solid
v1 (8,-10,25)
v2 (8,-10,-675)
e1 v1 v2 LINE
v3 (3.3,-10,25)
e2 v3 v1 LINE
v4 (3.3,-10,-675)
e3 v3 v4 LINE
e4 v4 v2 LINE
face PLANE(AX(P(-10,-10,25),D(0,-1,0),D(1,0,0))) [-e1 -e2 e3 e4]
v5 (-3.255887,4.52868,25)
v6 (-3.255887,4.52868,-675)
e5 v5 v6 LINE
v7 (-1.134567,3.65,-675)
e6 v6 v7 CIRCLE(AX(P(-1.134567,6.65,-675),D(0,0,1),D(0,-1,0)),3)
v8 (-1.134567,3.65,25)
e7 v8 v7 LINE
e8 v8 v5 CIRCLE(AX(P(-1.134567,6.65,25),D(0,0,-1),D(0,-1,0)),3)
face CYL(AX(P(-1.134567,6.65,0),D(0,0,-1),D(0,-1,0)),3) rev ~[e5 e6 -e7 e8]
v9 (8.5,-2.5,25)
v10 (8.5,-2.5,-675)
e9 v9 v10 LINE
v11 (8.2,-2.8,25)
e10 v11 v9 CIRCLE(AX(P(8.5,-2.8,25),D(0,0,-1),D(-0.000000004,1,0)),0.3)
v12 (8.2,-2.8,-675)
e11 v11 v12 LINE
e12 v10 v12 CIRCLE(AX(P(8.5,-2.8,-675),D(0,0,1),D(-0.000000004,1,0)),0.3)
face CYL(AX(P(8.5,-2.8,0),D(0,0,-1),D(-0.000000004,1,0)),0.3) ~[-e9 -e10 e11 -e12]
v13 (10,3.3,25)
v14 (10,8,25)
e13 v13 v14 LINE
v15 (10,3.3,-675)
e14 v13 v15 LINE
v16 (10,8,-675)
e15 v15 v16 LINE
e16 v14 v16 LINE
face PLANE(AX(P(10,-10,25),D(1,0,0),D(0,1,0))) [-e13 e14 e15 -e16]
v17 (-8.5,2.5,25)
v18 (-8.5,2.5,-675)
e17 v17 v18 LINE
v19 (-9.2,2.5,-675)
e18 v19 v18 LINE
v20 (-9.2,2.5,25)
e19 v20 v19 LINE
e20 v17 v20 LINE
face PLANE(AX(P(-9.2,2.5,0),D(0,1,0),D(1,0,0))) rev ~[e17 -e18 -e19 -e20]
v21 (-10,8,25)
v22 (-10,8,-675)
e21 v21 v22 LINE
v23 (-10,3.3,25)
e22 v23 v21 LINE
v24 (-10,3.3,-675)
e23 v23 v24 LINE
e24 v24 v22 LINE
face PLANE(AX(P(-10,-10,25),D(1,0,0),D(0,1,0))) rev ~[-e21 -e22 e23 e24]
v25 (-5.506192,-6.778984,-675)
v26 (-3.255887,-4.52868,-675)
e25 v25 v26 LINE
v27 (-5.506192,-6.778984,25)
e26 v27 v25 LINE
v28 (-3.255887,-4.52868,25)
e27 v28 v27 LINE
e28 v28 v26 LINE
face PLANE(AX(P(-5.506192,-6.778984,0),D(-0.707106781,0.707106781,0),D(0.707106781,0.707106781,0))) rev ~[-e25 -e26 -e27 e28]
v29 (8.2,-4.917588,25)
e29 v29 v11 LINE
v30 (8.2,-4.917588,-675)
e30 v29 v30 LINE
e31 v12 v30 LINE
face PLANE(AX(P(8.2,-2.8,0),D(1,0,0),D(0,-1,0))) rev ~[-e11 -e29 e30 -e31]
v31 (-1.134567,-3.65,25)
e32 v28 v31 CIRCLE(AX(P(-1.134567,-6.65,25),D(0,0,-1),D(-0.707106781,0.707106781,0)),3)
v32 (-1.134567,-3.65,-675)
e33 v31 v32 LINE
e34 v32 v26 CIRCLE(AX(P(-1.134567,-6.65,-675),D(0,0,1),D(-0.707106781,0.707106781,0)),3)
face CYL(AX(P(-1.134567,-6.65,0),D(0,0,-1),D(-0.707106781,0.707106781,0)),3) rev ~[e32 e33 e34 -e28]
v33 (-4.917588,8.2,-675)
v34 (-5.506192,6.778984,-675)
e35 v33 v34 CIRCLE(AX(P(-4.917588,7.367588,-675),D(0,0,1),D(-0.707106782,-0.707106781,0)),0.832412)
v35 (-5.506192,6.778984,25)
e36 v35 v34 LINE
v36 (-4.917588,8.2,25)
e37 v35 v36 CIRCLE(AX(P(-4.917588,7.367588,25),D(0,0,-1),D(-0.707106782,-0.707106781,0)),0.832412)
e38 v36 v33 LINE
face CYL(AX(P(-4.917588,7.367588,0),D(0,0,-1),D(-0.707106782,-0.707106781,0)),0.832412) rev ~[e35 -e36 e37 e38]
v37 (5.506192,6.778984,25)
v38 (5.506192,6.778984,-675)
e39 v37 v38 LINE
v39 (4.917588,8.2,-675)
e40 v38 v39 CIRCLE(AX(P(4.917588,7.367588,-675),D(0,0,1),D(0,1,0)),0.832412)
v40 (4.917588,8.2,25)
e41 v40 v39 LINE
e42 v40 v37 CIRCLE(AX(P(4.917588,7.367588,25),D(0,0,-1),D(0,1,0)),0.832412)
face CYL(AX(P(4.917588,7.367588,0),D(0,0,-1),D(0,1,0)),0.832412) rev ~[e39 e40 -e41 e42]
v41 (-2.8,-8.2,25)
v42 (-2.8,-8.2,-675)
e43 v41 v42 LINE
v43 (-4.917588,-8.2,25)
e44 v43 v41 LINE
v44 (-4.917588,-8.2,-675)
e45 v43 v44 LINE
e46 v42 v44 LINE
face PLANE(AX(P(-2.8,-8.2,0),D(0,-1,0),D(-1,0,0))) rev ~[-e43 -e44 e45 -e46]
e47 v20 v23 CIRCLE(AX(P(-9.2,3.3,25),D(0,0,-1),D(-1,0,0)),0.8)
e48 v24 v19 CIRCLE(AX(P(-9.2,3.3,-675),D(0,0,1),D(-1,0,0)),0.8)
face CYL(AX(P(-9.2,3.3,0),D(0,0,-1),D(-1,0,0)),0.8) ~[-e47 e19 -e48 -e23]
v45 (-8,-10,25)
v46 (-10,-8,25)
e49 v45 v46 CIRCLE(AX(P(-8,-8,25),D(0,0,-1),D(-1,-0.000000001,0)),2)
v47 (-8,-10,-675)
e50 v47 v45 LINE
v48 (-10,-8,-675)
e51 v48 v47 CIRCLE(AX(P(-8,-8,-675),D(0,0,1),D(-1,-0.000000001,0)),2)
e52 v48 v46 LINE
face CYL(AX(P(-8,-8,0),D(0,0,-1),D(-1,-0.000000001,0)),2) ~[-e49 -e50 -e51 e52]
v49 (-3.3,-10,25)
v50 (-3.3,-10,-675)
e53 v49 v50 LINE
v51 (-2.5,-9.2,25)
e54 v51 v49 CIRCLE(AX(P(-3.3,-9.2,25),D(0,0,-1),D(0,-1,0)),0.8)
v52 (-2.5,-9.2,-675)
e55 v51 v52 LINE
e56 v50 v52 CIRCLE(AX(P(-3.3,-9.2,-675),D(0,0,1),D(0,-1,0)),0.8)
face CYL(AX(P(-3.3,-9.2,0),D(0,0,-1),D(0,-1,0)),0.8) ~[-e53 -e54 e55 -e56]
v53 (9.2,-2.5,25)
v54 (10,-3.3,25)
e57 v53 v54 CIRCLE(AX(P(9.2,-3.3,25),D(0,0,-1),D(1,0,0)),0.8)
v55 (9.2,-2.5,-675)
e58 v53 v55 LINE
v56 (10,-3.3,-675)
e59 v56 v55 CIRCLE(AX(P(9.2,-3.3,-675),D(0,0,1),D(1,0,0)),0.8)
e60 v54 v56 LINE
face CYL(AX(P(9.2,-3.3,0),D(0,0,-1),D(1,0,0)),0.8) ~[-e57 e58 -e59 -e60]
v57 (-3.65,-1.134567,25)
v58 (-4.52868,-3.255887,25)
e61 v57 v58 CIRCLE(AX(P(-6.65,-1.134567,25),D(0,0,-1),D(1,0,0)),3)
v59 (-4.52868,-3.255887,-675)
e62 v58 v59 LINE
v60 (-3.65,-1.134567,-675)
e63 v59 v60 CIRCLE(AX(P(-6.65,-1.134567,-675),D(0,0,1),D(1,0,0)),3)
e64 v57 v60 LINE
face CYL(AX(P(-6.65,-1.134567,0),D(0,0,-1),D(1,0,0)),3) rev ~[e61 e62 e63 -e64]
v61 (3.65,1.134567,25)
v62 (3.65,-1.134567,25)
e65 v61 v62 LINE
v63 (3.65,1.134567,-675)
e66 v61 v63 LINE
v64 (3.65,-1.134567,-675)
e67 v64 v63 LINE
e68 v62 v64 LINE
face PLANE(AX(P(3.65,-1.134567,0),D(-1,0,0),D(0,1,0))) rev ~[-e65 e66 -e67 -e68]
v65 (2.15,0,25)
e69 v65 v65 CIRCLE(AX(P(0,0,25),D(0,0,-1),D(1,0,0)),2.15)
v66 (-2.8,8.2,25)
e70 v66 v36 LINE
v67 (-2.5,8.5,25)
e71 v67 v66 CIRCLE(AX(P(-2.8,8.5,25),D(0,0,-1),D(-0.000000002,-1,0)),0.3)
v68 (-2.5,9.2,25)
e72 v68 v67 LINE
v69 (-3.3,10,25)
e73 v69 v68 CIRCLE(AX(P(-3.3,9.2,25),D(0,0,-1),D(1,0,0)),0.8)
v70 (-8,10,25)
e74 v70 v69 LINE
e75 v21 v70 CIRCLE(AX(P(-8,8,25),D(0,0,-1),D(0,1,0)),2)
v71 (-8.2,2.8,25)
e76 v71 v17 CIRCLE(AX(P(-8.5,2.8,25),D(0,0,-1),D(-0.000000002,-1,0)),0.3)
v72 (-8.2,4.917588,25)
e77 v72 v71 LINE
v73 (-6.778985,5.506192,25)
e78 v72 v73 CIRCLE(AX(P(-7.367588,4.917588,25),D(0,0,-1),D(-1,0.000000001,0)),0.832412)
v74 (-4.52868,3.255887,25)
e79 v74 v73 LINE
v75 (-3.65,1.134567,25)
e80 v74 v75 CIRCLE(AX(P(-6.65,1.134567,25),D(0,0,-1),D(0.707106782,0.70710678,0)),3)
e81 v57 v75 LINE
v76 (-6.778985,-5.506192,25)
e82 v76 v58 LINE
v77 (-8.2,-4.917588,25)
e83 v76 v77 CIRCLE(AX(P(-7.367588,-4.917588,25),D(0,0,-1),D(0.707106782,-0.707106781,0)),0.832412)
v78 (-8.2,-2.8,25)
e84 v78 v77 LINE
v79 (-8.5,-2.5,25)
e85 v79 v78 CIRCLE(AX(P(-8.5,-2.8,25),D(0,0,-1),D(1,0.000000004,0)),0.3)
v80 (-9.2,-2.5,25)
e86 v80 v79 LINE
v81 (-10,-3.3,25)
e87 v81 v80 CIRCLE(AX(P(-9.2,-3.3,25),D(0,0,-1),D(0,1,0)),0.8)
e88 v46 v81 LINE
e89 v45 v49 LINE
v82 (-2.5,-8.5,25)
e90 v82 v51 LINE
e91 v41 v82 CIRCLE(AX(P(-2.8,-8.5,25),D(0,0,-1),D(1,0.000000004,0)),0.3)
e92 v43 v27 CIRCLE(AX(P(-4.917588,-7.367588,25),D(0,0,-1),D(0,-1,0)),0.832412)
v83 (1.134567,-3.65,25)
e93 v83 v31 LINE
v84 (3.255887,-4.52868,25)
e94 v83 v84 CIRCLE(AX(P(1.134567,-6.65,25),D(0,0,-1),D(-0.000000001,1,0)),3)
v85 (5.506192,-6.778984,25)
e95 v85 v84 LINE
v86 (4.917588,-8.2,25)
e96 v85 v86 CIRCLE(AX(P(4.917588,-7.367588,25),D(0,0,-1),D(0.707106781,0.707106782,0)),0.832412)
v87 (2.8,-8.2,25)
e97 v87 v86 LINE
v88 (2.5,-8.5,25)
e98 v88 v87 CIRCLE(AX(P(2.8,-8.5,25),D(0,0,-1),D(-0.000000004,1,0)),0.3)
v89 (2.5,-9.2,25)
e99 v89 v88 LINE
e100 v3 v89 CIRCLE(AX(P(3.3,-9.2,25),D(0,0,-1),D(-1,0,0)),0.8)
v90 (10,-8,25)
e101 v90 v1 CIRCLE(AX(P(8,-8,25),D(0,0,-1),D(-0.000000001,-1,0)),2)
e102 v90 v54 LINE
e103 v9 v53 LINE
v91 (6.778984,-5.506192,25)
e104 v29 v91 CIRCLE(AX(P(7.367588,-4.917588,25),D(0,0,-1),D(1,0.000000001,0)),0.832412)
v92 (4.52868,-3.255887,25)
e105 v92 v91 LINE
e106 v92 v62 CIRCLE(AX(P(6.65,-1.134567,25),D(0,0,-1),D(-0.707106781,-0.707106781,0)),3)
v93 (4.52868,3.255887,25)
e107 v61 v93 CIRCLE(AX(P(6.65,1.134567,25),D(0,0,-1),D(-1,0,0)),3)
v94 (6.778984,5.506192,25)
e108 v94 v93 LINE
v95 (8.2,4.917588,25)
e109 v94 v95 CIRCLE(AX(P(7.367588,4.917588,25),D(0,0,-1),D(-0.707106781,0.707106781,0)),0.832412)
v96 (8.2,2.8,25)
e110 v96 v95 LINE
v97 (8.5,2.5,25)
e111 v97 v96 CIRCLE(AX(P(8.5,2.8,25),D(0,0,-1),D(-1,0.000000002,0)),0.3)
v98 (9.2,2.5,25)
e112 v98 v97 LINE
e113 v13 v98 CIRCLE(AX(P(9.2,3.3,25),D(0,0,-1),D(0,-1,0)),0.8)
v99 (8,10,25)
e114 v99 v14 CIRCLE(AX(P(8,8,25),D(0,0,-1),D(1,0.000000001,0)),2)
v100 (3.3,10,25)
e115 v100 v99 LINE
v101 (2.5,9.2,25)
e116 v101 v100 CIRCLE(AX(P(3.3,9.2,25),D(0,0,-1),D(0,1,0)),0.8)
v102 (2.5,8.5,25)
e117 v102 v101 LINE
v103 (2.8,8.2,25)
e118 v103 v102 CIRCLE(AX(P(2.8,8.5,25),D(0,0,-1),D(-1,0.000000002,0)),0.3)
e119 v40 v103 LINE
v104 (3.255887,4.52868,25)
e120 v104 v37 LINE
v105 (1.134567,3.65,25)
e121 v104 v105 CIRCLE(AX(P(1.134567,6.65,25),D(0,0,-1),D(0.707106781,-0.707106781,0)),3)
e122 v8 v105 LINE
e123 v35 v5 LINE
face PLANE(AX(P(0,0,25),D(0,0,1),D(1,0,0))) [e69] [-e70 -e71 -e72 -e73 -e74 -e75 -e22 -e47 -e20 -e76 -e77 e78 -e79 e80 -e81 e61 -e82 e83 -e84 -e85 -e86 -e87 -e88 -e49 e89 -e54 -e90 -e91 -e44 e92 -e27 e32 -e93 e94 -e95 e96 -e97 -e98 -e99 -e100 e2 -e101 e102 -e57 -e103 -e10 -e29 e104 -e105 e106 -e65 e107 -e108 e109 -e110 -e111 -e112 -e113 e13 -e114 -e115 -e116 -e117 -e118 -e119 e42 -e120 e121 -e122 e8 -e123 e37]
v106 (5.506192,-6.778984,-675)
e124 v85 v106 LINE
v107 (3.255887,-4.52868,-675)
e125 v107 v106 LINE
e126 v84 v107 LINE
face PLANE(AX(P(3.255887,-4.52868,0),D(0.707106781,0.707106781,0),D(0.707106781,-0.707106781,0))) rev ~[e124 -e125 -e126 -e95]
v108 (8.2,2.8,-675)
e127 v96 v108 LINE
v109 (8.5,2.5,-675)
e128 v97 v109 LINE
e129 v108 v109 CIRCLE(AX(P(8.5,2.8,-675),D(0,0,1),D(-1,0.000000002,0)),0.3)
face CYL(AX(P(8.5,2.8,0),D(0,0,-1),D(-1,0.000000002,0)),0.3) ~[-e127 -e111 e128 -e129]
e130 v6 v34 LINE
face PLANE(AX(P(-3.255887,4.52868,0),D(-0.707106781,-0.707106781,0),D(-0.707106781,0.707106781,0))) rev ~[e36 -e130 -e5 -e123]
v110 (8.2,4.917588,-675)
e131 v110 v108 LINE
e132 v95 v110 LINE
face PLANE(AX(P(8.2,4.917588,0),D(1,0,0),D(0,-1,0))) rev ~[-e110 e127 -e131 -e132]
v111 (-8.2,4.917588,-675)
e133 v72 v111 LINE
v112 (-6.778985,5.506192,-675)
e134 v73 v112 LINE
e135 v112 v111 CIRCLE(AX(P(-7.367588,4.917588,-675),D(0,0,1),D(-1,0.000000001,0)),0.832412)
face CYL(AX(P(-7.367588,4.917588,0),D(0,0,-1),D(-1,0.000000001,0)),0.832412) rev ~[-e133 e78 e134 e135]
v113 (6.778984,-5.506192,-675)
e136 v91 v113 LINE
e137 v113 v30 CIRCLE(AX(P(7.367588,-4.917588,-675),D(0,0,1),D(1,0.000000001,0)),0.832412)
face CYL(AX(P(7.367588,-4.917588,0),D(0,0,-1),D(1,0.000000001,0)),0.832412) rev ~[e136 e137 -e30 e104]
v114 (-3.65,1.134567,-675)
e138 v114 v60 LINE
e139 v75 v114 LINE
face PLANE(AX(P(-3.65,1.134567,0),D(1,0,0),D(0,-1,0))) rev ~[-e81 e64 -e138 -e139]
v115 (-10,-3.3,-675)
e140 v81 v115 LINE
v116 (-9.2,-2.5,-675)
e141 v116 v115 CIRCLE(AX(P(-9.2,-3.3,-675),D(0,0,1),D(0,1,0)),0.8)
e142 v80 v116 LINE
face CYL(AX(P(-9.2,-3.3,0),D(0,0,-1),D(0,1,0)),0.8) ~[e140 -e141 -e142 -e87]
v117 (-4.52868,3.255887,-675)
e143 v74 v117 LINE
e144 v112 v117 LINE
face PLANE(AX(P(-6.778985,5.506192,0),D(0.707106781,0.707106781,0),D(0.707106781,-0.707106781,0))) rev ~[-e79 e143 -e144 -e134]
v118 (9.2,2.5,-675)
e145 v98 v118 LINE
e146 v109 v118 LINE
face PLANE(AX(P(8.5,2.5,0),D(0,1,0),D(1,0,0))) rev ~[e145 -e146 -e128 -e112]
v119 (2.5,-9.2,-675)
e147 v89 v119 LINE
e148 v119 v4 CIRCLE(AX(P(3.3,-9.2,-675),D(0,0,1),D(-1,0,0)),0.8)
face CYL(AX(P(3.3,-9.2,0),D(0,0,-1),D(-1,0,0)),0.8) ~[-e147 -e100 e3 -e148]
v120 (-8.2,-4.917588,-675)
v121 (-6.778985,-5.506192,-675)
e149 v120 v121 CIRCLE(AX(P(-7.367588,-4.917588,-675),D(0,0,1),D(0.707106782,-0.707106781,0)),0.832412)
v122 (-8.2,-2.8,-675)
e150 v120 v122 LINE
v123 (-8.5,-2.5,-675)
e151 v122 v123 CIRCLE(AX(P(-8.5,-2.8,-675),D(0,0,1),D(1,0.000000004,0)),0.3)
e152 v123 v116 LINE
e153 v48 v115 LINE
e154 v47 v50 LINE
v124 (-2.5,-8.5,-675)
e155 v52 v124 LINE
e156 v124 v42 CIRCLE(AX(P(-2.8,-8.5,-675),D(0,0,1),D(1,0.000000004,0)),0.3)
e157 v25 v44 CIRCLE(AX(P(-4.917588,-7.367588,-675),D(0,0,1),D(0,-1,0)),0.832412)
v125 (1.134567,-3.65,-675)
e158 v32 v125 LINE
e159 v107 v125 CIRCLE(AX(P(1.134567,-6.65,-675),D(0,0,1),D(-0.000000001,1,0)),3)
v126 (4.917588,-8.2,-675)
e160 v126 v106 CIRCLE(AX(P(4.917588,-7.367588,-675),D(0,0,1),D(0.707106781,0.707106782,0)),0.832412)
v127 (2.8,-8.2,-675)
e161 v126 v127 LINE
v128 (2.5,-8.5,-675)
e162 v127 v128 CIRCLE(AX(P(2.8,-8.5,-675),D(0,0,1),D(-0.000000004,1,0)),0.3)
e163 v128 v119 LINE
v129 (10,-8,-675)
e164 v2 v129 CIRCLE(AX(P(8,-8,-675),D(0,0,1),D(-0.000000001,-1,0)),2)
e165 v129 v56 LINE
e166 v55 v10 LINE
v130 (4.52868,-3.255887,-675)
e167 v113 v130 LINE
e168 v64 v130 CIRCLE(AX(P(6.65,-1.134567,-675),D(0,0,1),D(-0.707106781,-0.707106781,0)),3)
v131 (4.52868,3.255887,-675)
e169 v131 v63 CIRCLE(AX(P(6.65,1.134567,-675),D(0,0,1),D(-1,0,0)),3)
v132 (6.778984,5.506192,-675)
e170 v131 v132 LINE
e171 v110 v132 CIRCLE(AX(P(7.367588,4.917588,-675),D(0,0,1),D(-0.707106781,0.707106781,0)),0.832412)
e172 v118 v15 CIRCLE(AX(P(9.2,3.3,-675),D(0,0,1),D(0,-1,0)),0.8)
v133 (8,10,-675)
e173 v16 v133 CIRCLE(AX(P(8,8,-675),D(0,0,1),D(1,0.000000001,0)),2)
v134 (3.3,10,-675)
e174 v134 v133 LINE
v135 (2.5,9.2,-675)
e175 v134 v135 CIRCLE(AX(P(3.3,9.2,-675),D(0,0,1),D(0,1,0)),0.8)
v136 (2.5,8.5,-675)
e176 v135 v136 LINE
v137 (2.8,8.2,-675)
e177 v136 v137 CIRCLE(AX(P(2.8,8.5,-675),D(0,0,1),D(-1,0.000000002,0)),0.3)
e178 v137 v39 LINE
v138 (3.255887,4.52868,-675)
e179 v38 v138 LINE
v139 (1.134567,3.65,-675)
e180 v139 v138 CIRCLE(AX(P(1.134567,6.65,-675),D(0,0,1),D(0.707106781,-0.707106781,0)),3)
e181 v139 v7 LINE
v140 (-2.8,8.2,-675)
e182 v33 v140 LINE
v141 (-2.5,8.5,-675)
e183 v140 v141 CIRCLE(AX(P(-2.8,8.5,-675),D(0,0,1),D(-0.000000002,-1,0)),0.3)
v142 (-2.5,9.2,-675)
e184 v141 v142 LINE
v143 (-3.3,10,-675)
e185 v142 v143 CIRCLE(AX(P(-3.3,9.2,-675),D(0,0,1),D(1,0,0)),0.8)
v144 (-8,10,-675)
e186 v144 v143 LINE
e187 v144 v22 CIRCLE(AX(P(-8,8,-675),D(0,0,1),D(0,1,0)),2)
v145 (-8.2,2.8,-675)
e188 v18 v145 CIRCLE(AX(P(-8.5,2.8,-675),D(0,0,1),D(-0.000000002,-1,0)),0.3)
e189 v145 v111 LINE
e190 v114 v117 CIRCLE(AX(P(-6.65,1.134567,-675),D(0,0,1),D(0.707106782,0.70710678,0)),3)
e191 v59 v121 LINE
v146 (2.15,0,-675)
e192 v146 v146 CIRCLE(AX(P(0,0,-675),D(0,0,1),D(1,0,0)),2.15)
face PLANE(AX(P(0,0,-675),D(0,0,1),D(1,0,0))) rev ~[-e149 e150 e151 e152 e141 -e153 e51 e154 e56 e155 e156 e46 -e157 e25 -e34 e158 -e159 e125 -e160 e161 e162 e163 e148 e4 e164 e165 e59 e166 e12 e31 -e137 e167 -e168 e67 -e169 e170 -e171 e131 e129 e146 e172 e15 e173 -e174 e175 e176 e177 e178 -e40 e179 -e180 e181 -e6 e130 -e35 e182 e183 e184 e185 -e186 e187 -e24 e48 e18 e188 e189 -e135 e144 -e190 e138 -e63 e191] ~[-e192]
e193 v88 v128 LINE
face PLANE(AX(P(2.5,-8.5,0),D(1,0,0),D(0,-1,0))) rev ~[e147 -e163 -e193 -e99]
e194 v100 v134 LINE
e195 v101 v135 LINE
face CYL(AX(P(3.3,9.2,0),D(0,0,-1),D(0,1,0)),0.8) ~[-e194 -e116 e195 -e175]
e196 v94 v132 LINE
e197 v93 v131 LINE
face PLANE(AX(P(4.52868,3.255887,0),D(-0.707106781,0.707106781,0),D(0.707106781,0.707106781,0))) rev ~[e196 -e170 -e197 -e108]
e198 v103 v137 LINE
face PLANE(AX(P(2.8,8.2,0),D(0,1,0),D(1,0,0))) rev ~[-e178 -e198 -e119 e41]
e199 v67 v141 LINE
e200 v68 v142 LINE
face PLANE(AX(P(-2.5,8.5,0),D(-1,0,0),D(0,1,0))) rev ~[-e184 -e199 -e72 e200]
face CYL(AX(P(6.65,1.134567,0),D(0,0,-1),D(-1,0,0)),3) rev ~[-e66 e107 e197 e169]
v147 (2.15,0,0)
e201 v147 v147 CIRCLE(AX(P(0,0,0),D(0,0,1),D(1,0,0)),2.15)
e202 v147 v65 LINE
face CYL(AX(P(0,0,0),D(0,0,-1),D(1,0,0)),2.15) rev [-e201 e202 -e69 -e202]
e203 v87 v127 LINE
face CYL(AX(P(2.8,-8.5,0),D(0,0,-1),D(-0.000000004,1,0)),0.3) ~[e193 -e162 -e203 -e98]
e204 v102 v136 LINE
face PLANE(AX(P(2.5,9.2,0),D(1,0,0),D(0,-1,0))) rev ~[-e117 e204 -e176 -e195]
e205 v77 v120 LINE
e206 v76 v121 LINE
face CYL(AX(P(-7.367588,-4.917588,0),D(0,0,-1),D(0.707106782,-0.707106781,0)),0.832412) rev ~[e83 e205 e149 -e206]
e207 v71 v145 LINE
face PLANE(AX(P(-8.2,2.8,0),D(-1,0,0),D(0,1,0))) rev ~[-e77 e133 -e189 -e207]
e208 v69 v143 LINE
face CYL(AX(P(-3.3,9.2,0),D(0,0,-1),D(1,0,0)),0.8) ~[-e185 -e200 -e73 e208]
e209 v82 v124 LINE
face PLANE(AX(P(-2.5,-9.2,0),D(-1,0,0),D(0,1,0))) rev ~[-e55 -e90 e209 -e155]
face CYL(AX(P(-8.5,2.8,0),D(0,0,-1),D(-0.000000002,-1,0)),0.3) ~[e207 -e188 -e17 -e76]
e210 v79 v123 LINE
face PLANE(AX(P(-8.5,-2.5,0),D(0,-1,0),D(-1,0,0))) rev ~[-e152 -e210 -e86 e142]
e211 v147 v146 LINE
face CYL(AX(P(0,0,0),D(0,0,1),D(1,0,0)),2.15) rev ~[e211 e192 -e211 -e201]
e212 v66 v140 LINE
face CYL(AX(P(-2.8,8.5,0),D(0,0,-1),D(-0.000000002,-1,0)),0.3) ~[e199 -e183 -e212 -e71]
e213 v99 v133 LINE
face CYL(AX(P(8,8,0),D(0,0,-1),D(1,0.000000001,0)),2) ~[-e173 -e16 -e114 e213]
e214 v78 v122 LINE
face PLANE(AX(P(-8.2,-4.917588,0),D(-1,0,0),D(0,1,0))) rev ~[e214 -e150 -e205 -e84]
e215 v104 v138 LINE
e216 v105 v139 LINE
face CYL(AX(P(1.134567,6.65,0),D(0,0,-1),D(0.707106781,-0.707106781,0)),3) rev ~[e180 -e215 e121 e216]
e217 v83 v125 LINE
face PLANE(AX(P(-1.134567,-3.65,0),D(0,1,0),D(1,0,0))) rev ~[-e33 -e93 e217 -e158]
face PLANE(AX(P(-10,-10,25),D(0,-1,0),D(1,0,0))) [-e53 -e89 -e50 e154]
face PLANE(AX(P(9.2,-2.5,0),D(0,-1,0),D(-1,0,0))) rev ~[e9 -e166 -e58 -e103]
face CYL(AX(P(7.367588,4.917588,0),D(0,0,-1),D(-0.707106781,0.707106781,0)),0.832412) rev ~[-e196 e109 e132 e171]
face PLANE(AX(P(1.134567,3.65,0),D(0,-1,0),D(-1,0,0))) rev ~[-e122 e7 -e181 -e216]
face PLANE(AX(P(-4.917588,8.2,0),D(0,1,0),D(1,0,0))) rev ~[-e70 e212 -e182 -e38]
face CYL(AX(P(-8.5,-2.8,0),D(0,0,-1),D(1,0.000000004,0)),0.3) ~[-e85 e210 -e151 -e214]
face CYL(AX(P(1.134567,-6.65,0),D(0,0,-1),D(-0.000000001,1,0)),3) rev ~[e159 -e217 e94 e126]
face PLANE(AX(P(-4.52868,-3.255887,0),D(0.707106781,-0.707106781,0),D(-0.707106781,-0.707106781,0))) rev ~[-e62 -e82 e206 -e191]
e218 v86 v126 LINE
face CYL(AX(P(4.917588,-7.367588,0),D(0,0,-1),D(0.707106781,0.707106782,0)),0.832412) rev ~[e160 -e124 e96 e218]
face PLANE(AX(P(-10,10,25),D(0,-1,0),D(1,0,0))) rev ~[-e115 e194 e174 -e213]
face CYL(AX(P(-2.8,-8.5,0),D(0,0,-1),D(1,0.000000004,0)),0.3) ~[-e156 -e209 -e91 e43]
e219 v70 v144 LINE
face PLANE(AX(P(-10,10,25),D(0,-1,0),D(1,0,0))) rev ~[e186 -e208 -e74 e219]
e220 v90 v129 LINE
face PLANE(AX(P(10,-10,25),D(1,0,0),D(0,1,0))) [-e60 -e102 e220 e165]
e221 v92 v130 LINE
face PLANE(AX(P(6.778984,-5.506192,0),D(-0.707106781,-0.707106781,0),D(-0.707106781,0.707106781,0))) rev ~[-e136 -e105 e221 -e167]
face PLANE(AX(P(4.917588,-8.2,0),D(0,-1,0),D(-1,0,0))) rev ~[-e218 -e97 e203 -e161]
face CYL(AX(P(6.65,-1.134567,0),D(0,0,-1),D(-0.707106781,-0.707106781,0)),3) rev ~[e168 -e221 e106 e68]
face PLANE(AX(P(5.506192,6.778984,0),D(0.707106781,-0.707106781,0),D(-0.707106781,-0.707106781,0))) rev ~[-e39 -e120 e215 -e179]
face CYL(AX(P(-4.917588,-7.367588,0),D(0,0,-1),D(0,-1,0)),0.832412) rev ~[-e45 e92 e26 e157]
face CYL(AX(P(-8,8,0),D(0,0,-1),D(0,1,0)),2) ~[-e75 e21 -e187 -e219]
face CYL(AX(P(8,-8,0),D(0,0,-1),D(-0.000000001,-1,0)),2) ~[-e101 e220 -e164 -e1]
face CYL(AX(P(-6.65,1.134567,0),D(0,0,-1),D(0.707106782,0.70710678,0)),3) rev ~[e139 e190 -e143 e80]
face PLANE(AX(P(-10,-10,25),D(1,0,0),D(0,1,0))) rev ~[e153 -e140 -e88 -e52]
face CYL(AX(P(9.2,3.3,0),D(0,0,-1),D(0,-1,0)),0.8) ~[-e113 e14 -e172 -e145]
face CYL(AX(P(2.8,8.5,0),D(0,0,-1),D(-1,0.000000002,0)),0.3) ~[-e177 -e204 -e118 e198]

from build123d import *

# Parameters (mm, degrees)
SKETCH4_W              = 20
SKETCH4_H              = 20
BODY_DEPTH             = 700
SKETCH16_OUTSIDE_W     = 162.114
SKETCH16_OUTSIDE_H     = 162.114
SKETCH16_OUTSIDE_R     = 2.15
CUT_PROFILE_DEPTH      = 26
CUT_PROFILE_DEPTH_BACK = 676


with BuildPart() as part:
    # Sketch4 → Body (new body)
    with BuildSketch(Plane.XY.offset(25)):
        Rectangle(SKETCH4_W, SKETCH4_H)
    extrude(amount=-BODY_DEPTH)

    # Sketch16 outside → Cut-Profile (cut, two sides)
    with BuildSketch(Plane.XY) as cut_profile_sk:
        Rectangle(SKETCH16_OUTSIDE_W, SKETCH16_OUTSIDE_H)
        with BuildLine():
            Line((4.917588389, -8.199999991), (2.799999989, -8.199999991))
            ThreePointArc((2.799999989, -8.199999991), (2.587867955, -8.287867957), (2.499999989, -8.499999991))
            Line((2.499999989, -8.499999991), (2.499999989, -9.199999991))
            ThreePointArc((2.499999989, -9.199999991), (2.734314564, -9.765685416), (3.299999989, -9.999999991))
            Line((3.299999989, -9.999999991), (7.999999989, -9.999999991))
            ThreePointArc((7.999999989, -9.999999991), (9.414213552, -9.414213554), (9.999999989, -7.999999991))
            Line((9.999999989, -7.999999991), (9.999999989, -3.299999991))
            ThreePointArc((9.999999989, -3.299999991), (9.765685414, -2.734314566), (9.199999989, -2.499999991))
            Line((9.199999989, -2.499999991), (8.499999989, -2.499999991))
            ThreePointArc((8.499999989, -2.499999991), (8.287867955, -2.587867957), (8.199999989, -2.799999991))
            Line((8.199999989, -2.799999991), (8.199999989, -4.917588391))
            ThreePointArc((8.199999989, -4.917588391), (7.686138511, -5.686636441), (6.778984485, -5.506192286))
            Line((6.778984485, -5.506192286), (4.528679645, -3.255887446))
            ThreePointArc((4.528679645, -3.255887446), (3.878361392, -2.282617401), (3.64999999, -1.134567106))
            Line((3.64999999, -1.134567106), (3.64999999, 1.134567104))
            ThreePointArc((3.64999999, 1.134567104), (3.878361393, 2.282617402), (4.528679647, 3.255887448))
            Line((4.528679647, 3.255887448), (6.778984487, 5.506192288))
            ThreePointArc((6.778984487, 5.506192288), (7.686138506, 5.686636442), (8.199999981, 4.917588398))
            Line((8.199999981, 4.917588398), (8.199999981, 2.799999998))
            ThreePointArc((8.199999981, 2.799999998), (8.287867946, 2.587867964), (8.499999981, 2.499999998))
            Line((8.499999981, 2.499999998), (9.199999981, 2.499999998))
            ThreePointArc((9.199999981, 2.499999998), (9.765685406, 2.734314573), (9.999999981, 3.299999998))
            Line((9.999999981, 3.299999998), (9.999999981, 7.999999998))
            ThreePointArc((9.999999981, 7.999999998), (9.414213543, 9.41421356), (7.999999981, 9.999999998))
            Line((7.999999981, 9.999999998), (3.299999981, 9.999999998))
            ThreePointArc((3.299999981, 9.999999998), (2.734314556, 9.765685423), (2.499999981, 9.199999998))
            Line((2.499999981, 9.199999998), (2.499999981, 8.499999998))
            ThreePointArc((2.499999981, 8.499999998), (2.587867946, 8.287867964), (2.799999981, 8.199999998))
            Line((2.799999981, 8.199999998), (4.917588381, 8.199999998))
            ThreePointArc((4.917588381, 8.199999998), (5.68663643, 7.68613852), (5.506192275, 6.778984494))
            Line((5.506192275, 6.778984494), (3.255887435, 4.528679654))
            ThreePointArc((3.255887435, 4.528679654), (2.28261739, 3.878361401), (1.134567095, 3.649999999))
            Line((1.134567095, 3.649999999), (-1.134567115, 3.649999999))
            ThreePointArc((-1.134567115, 3.649999999), (-2.282617412, 3.878361401), (-3.255887459, 4.528679655))
            Line((-3.255887459, 4.528679655), (-5.506192299, 6.778984495))
            ThreePointArc((-5.506192299, 6.778984495), (-5.686636452, 7.686138515), (-4.917588409, 8.199999989))
            Line((-4.917588409, 8.199999989), (-2.800000009, 8.199999989))
            ThreePointArc((-2.800000009, 8.199999989), (-2.587867974, 8.287867955), (-2.500000009, 8.499999989))
            Line((-2.500000009, 8.499999989), (-2.500000009, 9.199999989))
            ThreePointArc((-2.500000009, 9.199999989), (-2.734314584, 9.765685414), (-3.300000009, 9.999999989))
            Line((-3.300000009, 9.999999989), (-8.000000009, 9.999999989))
            ThreePointArc((-8.000000009, 9.999999989), (-9.414213571, 9.414213552), (-10.000000009, 7.999999989))
            Line((-10.000000009, 7.999999989), (-10.000000009, 3.299999989))
            ThreePointArc((-10.000000009, 3.299999989), (-9.765685434, 2.734314564), (-9.200000009, 2.499999989))
            Line((-9.200000009, 2.499999989), (-8.500000009, 2.499999989))
            ThreePointArc((-8.500000009, 2.499999989), (-8.287867974, 2.587867955), (-8.200000009, 2.799999989))
            Line((-8.200000009, 2.799999989), (-8.200000009, 4.917588389))
            ThreePointArc((-8.200000009, 4.917588389), (-7.686138531, 5.686636438), (-6.778984504, 5.506192284))
            Line((-6.778984504, 5.506192284), (-4.528679664, 3.255887444))
            ThreePointArc((-4.528679664, 3.255887444), (-3.878361412, 2.282617399), (-3.650000009, 1.134567104))
            Line((-3.650000009, 1.134567104), (-3.650000009, -1.134567106))
            ThreePointArc((-3.650000009, -1.134567106), (-3.878361412, -2.282617404), (-4.528679666, -3.25588745))
            Line((-4.528679666, -3.25588745), (-6.778984506, -5.50619229))
            ThreePointArc((-6.778984506, -5.50619229), (-7.686138526, -5.686636444), (-8.2, -4.9175884))
            Line((-8.2, -4.9175884), (-8.2, -2.8))
            ThreePointArc((-8.2, -2.8), (-8.287867966, -2.587867966), (-8.5, -2.5))
            Line((-8.5, -2.5), (-9.2, -2.5))
            ThreePointArc((-9.2, -2.5), (-9.765685425, -2.734314575), (-10, -3.3))
            Line((-10, -3.3), (-10, -8))
            ThreePointArc((-10, -8), (-9.414213562, -9.414213562), (-8, -10))
            Line((-8, -10), (-3.3, -10))
            ThreePointArc((-3.3, -10), (-2.734314575, -9.765685425), (-2.5, -9.2))
            Line((-2.5, -9.2), (-2.5, -8.5))
            ThreePointArc((-2.5, -8.5), (-2.587867966, -8.287867966), (-2.8, -8.2))
            Line((-2.8, -8.2), (-4.9175884, -8.2))
            ThreePointArc((-4.9175884, -8.2), (-5.686636449, -7.686138522), (-5.506192294, -6.778984496))
            Line((-5.506192294, -6.778984496), (-3.255887454, -4.528679656))
            ThreePointArc((-3.255887454, -4.528679656), (-2.282617409, -3.878361403), (-1.134567114, -3.650000001))
            Line((-1.134567114, -3.650000001), (1.134567096, -3.650000001))
            ThreePointArc((1.134567096, -3.650000001), (2.282617393, -3.878361403), (3.255887439, -4.528679657))
            Line((3.255887439, -4.528679657), (5.506192279, -6.778984497))
            ThreePointArc((5.506192279, -6.778984497), (5.686636433, -7.686138517), (4.917588389, -8.199999991))
        make_face(mode=Mode.SUBTRACT)
        Circle(SKETCH16_OUTSIDE_R)
    extrude(amount=CUT_PROFILE_DEPTH, mode=Mode.SUBTRACT)
    extrude(cut_profile_sk.sketch, amount=-CUT_PROFILE_DEPTH_BACK, mode=Mode.SUBTRACT)


solid = part.part
